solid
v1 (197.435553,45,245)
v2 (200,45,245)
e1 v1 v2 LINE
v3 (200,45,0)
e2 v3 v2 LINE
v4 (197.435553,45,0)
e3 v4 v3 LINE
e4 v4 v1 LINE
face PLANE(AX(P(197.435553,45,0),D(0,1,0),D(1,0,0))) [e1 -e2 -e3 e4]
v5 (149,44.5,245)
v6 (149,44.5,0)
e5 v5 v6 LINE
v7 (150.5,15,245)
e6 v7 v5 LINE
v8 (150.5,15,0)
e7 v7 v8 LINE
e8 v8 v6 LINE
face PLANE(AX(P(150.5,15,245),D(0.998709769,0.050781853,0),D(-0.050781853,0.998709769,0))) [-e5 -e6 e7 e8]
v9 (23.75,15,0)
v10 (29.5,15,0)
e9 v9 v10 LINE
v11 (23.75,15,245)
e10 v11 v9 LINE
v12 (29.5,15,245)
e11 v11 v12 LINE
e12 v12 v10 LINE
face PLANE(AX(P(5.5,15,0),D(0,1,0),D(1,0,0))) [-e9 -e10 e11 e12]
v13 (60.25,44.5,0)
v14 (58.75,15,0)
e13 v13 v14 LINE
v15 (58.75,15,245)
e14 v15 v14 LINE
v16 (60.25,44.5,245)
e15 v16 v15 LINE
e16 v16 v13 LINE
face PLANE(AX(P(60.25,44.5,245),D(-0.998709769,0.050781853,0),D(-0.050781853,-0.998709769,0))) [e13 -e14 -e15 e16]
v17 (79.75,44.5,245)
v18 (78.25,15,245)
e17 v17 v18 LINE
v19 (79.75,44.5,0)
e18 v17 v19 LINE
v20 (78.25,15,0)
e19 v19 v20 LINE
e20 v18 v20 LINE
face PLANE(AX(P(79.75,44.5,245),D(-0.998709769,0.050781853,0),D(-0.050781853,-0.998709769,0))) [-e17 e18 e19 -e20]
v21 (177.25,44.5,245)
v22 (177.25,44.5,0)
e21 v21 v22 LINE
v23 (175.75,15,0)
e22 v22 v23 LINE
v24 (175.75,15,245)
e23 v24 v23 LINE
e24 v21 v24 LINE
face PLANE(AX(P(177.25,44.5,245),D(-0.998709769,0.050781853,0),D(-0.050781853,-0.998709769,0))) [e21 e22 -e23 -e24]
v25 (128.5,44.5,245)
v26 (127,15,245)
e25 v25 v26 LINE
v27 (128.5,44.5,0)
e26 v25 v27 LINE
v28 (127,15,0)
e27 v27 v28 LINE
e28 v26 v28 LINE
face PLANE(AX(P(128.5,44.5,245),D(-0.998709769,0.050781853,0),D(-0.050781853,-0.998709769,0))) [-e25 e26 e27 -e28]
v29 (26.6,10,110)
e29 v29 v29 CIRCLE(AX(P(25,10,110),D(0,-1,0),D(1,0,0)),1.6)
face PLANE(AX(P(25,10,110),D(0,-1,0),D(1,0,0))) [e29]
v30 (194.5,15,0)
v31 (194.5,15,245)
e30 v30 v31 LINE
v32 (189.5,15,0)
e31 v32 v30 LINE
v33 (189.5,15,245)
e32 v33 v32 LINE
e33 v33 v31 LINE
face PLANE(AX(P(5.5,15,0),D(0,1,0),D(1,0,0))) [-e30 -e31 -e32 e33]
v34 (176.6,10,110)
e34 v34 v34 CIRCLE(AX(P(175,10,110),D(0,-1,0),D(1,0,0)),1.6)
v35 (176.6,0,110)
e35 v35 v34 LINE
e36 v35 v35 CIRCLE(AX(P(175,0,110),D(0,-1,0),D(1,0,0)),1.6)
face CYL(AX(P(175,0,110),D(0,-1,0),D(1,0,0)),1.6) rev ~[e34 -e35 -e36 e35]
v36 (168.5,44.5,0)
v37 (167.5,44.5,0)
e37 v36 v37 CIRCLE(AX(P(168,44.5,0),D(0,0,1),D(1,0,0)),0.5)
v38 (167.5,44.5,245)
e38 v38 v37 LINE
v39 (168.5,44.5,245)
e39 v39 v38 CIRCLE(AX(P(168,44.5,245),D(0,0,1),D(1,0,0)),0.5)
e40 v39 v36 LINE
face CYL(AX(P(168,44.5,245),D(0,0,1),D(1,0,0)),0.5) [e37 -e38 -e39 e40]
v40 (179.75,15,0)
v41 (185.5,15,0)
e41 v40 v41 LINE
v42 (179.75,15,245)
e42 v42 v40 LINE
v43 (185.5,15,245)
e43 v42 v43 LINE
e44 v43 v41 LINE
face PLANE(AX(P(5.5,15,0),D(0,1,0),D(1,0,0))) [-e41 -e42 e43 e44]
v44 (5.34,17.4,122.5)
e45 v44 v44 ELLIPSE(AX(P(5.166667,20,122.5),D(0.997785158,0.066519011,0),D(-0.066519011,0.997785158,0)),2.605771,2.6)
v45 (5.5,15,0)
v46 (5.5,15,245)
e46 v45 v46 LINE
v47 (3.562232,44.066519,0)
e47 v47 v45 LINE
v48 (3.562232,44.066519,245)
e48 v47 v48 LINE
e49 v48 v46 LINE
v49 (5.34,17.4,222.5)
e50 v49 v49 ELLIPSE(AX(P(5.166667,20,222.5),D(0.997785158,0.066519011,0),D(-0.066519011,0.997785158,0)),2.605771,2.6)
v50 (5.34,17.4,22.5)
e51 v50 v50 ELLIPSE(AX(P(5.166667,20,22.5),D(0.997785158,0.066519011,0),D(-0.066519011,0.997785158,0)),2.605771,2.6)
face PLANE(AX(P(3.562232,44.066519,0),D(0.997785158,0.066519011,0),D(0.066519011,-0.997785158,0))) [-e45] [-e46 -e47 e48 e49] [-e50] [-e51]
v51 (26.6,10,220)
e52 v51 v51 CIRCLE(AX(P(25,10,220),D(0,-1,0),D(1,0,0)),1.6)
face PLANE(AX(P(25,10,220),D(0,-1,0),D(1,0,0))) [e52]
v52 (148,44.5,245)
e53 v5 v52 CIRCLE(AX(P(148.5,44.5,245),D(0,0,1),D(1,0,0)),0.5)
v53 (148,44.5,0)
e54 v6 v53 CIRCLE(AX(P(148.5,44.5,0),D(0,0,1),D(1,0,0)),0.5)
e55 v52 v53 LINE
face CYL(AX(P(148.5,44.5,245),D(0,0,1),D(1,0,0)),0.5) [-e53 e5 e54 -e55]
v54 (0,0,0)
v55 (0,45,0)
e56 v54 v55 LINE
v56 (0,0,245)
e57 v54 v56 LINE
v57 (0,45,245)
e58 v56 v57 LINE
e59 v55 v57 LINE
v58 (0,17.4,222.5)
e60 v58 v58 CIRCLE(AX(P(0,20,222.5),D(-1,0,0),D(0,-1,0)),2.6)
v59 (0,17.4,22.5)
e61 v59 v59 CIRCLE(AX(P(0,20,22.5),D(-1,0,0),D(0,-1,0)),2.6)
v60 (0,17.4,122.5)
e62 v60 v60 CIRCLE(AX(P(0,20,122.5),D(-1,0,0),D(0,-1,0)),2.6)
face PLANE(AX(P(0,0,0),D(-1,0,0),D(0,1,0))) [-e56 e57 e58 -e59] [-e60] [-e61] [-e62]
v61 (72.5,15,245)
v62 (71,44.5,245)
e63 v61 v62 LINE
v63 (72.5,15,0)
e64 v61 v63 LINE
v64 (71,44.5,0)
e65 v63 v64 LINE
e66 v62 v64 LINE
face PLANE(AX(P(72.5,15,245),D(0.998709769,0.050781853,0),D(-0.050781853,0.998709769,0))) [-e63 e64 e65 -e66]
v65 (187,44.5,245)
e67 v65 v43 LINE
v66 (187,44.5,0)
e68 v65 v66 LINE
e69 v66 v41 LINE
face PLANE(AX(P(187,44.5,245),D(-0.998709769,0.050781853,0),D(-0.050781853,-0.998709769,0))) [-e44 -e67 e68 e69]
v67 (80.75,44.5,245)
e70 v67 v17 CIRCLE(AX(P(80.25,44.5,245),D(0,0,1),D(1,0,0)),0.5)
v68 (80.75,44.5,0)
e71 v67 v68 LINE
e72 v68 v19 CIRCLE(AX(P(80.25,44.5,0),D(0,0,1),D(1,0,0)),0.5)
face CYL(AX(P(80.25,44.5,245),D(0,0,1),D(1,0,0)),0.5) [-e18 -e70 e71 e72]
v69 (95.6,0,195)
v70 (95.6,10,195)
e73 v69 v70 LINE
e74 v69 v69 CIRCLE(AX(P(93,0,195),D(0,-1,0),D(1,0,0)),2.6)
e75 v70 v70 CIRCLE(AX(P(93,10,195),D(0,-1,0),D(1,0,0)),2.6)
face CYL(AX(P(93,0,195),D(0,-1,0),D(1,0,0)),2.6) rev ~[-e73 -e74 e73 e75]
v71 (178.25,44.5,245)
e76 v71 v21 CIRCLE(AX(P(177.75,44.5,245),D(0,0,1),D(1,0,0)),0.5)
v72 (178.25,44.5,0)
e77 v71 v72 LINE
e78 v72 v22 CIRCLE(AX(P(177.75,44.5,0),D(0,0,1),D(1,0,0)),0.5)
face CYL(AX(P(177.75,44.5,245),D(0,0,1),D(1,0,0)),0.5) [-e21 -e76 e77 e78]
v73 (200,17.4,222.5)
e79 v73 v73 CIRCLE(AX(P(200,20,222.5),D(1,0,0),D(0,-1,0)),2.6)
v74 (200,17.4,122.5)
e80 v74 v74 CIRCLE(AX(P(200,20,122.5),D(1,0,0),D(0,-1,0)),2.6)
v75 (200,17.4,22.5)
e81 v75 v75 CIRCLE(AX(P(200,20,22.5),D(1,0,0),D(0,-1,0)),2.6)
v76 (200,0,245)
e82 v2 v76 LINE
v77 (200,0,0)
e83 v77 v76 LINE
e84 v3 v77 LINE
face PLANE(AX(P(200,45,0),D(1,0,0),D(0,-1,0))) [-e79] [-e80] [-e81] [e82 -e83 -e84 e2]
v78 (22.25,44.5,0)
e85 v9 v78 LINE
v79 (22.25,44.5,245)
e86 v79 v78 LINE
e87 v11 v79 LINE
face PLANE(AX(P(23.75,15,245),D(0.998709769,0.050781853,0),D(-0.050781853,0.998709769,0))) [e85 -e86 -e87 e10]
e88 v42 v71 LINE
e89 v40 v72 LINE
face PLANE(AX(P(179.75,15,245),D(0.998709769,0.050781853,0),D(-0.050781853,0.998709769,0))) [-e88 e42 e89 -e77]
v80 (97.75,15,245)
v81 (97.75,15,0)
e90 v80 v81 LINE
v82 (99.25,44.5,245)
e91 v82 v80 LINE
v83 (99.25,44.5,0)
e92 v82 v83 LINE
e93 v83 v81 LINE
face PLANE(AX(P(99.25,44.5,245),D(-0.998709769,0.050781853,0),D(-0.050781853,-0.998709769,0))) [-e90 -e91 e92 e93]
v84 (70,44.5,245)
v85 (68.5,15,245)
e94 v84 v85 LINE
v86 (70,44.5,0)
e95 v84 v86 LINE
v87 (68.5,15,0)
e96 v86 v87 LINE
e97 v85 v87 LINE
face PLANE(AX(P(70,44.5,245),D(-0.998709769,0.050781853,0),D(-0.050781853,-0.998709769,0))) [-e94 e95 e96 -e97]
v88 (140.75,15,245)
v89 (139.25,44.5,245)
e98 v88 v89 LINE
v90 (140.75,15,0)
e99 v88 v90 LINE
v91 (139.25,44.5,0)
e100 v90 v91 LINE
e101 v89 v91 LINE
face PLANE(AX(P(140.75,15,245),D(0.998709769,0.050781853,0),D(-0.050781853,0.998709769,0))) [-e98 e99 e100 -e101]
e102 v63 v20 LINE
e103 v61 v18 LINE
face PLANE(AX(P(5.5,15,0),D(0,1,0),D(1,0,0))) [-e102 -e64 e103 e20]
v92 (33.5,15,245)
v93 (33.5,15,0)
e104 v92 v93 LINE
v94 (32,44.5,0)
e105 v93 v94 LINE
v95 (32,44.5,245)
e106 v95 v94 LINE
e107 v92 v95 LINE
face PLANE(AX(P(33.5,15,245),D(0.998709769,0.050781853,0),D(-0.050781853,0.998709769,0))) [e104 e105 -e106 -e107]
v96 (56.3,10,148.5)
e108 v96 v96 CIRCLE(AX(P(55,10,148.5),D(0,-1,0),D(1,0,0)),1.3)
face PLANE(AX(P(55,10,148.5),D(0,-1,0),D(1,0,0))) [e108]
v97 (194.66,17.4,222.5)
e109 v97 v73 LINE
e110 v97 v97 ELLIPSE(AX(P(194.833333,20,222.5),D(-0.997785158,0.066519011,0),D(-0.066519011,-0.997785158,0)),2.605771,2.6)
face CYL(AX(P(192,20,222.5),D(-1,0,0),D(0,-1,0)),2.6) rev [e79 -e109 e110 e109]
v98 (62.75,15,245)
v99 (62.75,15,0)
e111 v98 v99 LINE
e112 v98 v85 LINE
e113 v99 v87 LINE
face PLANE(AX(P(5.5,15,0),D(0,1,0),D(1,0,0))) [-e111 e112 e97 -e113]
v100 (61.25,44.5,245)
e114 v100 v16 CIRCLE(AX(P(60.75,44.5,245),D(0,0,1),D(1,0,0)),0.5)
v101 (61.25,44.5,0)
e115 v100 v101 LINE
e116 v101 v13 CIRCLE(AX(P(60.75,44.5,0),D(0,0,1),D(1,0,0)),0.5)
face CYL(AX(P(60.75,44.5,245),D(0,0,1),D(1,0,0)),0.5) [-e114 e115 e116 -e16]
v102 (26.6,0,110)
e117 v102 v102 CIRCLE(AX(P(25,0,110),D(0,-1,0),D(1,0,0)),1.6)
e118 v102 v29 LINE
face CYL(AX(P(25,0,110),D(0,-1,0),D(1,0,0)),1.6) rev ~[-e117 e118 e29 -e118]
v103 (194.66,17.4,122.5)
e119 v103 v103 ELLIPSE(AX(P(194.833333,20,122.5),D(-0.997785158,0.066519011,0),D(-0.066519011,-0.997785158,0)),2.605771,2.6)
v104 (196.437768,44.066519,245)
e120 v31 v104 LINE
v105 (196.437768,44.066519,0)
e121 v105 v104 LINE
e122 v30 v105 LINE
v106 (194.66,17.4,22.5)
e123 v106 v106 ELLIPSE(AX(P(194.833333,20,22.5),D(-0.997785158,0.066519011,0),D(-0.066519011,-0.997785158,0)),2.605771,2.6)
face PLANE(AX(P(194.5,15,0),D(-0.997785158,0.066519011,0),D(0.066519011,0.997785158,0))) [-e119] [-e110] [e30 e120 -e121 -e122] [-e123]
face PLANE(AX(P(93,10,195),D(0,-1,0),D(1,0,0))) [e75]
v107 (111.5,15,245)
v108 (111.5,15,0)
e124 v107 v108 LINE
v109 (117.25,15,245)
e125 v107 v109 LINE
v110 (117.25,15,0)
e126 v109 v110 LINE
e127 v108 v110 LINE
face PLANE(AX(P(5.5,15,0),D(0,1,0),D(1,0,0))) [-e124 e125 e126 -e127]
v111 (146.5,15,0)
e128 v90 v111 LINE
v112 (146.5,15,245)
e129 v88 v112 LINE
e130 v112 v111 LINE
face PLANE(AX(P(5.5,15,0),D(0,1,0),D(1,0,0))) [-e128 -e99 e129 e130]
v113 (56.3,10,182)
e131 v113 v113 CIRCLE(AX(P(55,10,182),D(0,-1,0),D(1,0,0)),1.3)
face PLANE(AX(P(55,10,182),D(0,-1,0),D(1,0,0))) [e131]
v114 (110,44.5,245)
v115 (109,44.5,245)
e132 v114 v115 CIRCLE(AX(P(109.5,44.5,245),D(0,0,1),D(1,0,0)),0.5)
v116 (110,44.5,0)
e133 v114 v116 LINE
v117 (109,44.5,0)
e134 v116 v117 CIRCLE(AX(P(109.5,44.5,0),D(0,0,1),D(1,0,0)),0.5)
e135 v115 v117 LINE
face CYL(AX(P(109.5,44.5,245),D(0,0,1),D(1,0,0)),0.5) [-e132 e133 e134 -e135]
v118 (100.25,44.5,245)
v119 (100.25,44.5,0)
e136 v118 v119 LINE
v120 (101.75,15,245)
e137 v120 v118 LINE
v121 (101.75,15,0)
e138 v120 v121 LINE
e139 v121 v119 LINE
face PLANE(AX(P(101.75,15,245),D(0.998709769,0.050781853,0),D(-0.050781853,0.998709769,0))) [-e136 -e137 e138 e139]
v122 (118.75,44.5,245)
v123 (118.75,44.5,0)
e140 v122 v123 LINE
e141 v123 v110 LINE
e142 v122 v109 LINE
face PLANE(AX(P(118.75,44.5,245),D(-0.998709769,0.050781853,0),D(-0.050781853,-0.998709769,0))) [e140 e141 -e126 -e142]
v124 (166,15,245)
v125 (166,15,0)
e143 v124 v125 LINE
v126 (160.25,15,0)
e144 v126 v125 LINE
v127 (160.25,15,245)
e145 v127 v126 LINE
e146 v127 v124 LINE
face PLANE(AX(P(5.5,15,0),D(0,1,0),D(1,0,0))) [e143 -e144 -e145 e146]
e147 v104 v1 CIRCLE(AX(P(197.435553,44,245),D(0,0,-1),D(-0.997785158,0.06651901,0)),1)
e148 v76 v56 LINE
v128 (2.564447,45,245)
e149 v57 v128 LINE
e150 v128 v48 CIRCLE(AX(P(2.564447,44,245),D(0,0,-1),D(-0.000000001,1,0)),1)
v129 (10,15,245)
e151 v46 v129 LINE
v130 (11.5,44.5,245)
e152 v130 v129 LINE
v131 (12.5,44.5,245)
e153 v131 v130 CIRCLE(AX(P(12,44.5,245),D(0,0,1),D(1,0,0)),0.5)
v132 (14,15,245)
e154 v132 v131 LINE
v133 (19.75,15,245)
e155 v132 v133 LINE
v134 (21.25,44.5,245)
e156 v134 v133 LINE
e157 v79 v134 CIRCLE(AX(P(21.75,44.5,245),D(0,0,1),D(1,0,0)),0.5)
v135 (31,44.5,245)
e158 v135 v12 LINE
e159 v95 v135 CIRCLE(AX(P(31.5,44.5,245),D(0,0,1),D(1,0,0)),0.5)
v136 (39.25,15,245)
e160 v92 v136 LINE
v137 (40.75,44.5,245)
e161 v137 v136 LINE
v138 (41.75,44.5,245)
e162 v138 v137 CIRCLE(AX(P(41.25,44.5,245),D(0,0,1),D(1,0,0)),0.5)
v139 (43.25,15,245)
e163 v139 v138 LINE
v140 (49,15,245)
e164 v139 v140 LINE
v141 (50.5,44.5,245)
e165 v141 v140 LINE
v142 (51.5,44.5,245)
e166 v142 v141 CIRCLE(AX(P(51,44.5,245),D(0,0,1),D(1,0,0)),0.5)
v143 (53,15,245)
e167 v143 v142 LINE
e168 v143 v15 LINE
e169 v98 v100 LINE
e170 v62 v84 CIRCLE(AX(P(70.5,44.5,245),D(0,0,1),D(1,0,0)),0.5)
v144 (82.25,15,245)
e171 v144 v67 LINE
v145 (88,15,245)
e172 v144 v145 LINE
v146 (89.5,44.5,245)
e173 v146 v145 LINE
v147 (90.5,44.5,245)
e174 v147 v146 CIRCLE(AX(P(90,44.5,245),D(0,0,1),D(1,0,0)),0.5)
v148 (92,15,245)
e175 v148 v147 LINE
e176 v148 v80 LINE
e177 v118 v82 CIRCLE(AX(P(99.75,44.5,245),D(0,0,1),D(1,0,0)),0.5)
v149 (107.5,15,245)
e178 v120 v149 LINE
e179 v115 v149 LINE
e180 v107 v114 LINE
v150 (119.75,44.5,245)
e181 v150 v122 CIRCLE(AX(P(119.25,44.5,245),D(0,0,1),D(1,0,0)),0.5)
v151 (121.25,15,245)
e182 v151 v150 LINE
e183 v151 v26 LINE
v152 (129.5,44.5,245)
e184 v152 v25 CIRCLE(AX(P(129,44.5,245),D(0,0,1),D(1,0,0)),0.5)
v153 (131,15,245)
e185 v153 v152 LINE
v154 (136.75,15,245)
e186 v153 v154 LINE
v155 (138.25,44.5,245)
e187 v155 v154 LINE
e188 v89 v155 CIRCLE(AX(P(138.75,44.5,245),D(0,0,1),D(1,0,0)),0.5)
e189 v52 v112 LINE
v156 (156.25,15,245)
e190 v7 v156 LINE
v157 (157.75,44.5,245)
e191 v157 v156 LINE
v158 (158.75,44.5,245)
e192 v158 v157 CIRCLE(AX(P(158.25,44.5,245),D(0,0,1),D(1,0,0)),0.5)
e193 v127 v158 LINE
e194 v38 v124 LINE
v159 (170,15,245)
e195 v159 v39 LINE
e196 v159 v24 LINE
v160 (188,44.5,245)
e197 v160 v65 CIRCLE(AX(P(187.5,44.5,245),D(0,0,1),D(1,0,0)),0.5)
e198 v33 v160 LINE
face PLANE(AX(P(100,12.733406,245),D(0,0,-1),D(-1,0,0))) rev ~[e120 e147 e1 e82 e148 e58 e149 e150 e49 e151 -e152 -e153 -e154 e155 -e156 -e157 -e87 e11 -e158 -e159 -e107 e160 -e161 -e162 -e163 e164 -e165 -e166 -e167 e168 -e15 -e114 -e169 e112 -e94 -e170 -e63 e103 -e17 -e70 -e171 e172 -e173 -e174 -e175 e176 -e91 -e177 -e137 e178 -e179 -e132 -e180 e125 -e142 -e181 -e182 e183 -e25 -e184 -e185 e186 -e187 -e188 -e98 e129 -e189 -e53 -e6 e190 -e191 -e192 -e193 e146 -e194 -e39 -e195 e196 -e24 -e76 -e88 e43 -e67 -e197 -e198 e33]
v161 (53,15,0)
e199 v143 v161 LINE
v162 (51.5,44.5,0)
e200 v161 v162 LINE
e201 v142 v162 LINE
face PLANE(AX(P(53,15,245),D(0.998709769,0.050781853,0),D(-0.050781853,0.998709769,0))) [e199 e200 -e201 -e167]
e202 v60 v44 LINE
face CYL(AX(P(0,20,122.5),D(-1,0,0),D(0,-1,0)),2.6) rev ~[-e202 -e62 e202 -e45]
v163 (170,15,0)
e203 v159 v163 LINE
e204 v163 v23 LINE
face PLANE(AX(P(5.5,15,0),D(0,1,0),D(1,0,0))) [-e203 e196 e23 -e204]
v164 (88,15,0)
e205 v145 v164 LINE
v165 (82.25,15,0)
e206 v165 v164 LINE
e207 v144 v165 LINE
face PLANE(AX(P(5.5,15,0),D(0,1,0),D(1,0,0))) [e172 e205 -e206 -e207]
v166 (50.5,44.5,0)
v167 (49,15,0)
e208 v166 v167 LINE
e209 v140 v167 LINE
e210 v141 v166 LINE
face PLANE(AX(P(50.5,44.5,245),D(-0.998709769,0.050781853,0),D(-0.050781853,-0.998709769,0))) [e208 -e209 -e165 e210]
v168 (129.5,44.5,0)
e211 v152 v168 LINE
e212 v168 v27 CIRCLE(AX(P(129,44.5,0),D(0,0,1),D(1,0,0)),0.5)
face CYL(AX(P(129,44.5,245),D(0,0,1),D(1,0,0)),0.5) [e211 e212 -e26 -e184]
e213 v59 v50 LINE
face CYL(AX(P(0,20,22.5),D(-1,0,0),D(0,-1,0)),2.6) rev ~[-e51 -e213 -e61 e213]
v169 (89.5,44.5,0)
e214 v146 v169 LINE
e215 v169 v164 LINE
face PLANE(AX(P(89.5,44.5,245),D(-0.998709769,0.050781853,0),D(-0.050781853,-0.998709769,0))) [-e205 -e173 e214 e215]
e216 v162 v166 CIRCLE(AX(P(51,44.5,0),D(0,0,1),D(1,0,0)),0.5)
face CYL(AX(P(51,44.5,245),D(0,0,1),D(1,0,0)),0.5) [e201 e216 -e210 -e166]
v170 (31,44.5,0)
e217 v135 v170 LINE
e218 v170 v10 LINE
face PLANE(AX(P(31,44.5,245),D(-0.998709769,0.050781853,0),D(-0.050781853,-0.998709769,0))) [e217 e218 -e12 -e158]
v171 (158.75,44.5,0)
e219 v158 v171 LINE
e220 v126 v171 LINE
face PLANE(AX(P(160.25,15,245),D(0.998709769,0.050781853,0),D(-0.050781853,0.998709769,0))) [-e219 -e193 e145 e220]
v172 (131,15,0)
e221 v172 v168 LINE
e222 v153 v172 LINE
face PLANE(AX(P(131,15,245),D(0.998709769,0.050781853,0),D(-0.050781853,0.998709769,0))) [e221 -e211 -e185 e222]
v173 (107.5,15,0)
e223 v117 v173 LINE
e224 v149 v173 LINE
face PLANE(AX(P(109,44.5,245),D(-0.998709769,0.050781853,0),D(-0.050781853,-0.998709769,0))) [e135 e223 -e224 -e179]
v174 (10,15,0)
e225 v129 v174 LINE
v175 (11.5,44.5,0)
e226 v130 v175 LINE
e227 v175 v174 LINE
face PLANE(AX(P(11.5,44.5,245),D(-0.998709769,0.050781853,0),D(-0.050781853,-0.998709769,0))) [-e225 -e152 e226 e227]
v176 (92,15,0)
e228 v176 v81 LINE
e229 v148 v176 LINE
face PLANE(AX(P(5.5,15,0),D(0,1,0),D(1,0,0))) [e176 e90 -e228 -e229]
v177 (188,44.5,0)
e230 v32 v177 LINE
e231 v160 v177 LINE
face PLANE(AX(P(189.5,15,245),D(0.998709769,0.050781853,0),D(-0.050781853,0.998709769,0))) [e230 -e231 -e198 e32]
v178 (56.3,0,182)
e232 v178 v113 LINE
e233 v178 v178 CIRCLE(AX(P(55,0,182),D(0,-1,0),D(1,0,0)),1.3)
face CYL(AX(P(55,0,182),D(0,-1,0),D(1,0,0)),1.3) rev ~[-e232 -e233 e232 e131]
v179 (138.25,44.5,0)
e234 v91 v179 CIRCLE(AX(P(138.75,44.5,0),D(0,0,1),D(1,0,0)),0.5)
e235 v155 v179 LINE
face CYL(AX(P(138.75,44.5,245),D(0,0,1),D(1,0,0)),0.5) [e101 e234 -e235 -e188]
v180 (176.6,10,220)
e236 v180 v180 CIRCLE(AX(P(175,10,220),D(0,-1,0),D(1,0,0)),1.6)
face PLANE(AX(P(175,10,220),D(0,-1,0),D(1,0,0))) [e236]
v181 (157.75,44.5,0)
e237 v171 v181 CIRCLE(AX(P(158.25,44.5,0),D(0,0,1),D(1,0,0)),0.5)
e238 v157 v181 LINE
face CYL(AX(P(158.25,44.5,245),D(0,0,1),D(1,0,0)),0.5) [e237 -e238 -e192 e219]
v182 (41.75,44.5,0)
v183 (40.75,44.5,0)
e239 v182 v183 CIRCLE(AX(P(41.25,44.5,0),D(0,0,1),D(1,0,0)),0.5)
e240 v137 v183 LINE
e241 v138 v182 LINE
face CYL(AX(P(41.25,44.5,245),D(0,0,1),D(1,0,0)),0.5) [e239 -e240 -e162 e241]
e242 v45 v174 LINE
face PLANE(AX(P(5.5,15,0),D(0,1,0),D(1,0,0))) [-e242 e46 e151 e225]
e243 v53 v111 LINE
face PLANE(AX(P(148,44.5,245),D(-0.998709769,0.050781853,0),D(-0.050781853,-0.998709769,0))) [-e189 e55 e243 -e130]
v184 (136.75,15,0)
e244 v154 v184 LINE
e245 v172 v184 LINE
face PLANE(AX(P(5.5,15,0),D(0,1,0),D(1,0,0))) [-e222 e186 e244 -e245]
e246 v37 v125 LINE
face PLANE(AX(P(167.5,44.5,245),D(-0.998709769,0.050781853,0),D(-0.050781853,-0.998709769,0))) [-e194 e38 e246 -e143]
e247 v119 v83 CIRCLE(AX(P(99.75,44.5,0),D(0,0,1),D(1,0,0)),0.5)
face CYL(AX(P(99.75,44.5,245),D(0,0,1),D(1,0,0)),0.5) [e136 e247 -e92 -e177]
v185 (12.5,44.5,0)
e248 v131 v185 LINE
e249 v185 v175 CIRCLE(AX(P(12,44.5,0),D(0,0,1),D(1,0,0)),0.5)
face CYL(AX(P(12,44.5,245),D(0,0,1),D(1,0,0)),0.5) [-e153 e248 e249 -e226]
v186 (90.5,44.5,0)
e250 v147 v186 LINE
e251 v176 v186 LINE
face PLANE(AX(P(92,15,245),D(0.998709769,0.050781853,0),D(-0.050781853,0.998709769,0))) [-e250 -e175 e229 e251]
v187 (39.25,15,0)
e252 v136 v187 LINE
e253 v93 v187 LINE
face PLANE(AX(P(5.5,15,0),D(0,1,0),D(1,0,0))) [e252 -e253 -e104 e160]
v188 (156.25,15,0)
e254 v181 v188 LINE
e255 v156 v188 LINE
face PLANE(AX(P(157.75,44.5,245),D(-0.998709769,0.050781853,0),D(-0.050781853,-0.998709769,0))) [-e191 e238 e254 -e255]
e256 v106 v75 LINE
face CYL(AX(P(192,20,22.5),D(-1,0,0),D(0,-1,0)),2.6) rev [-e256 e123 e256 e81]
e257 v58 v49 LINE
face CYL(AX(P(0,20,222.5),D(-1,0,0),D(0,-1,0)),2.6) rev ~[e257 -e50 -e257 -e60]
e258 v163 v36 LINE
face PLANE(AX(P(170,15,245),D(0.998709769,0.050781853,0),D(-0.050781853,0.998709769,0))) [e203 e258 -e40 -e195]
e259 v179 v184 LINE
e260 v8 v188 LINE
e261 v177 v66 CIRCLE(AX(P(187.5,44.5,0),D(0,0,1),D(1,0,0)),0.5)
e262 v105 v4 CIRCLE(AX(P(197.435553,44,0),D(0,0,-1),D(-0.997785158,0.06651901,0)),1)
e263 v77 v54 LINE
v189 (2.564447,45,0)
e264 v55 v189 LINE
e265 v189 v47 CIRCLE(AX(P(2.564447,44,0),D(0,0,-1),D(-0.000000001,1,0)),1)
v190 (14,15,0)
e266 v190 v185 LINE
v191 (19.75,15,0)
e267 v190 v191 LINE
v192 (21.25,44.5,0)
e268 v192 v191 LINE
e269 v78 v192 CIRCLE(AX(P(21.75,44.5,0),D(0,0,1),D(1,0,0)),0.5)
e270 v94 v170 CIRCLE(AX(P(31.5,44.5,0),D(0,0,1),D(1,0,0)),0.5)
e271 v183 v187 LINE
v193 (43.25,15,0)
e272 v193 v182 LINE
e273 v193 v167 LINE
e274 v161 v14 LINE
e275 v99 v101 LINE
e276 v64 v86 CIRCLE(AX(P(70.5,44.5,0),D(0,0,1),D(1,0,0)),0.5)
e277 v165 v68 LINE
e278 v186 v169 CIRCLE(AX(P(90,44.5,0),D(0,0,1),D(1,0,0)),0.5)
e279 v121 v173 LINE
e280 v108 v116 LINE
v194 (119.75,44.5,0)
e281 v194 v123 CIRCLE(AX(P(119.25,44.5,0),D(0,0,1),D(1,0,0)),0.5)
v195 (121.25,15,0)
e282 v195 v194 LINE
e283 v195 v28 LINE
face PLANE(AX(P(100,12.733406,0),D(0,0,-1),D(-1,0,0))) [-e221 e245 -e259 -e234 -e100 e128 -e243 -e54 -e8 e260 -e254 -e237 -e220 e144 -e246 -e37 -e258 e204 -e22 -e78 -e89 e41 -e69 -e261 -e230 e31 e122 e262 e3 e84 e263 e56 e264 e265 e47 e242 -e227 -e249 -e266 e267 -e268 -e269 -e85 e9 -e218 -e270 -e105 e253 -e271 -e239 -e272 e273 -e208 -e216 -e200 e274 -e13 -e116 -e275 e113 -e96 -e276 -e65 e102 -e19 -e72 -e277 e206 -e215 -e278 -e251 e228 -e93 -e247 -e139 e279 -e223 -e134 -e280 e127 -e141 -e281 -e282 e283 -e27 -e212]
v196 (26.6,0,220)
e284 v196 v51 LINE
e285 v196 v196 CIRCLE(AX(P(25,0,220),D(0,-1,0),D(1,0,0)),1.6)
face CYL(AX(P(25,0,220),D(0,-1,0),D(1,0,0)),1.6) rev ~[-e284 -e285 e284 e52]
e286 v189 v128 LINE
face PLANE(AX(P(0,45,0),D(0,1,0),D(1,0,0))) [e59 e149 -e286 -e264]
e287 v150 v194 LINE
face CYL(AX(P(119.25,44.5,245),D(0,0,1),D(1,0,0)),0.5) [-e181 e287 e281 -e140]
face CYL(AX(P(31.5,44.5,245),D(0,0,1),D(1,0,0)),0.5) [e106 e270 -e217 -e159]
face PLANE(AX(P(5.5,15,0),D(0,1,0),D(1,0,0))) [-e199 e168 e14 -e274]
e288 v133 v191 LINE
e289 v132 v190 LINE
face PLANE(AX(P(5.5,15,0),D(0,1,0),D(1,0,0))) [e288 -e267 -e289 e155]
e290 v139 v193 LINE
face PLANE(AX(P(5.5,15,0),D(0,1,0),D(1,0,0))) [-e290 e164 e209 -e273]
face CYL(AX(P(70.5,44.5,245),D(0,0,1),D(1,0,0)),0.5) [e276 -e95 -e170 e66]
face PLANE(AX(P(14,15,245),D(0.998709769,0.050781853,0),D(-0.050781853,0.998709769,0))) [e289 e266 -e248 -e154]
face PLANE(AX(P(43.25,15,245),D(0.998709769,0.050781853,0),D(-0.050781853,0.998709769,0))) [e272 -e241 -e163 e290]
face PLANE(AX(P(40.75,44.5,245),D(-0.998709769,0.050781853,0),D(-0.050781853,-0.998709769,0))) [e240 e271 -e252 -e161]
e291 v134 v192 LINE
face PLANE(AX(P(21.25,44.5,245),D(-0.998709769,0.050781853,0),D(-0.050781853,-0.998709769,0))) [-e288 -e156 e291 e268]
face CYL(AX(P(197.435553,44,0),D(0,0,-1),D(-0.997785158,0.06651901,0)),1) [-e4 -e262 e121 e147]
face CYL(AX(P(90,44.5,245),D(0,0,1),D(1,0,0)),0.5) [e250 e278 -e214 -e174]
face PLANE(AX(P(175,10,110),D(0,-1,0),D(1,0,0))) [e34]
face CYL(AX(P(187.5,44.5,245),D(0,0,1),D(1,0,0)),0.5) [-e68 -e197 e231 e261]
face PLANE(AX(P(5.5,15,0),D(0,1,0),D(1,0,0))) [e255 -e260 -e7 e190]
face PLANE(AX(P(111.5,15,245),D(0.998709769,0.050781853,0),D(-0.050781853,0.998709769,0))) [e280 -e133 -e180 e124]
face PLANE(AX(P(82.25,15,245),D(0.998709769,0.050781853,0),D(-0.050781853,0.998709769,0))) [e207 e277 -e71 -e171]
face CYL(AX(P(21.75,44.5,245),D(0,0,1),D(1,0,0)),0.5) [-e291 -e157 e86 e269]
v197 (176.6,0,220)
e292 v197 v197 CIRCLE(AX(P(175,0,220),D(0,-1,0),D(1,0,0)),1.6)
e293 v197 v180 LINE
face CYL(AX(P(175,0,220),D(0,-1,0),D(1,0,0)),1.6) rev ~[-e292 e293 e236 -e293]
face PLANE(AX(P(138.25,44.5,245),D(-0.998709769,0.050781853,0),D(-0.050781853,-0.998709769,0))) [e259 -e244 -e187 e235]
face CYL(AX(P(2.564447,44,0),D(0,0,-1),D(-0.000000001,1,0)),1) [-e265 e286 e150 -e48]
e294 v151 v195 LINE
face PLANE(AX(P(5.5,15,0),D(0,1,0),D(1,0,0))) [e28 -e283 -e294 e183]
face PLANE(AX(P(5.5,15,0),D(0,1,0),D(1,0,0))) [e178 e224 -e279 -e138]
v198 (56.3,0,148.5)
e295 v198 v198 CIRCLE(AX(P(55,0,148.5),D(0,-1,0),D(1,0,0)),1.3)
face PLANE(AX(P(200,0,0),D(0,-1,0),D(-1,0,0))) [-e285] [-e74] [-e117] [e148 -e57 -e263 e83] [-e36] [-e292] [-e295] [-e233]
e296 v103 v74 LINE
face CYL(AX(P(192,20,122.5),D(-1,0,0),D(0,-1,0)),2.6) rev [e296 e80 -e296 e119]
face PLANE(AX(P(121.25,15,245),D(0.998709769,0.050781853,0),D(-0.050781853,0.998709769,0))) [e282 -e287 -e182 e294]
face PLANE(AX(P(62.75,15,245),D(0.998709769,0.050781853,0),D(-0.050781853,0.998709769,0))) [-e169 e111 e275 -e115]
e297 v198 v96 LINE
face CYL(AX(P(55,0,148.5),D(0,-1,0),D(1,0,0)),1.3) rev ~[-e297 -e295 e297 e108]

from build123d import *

# Parameters (mm, degrees)
EXTRUDE_1_DEPTH       = 245
EXTRUDE_3_DEPTH       = 245
PATTERN_CURVE_1_COUNT = 19
PATTERN_CURVE_1_PITCH = 9.75
SKETCH_7_R            = 2.6
CUT_EXTRUDE_4_DEPTH   = 6
CUT_EXTRUDE_START     = -8
SKETCH_13_R           = 2.6
CUT_EXTRUDE_9_DEPTH   = 8
SKETCH_15_R           = 1.6
SKETCH_15_R_2         = 1.3
SKETCH_15_R_3         = 2.6
CUT_EXTRUDE_10_DEPTH  = 10


with BuildPart() as part:
    # Эскиз1 → Вытянуть1 (new body)
    with BuildSketch(Plane.XY):
        with BuildLine():
            Line((0, 45), (2.564446908, 45))
            ThreePointArc((2.564446908, 45), (3.247630994, 44.730246195), (3.562232066, 44.066519011))
            Line((3.562232066, 44.066519011), (5.5, 15))
            Line((5.5, 15), (194.5, 15))
            Line((194.5, 15), (196.437767934, 44.066519011))
            ThreePointArc((196.437767934, 44.066519011), (196.752369006, 44.730246195), (197.435553092, 45))
            Line((197.435553092, 45), (200, 45))
            Line((200, 45), (200, 0))
            Line((200, 0), (0, 0))
            Line((0, 0), (0, 45))
        make_face()
    extrude(amount=EXTRUDE_1_DEPTH)

    # Эскиз2 → Вытянуть3 (add)
    with BuildSketch(Plane.XY.offset(245)):
        with BuildLine():
            Line((11.5, 44.5), (10, 15))
            Line((10, 15), (14, 15))
            Line((14, 15), (12.5, 44.5))
            ThreePointArc((12.5, 44.5), (12, 45), (11.5, 44.5))
        make_face()
    extrude_3 = extrude(amount=-EXTRUDE_3_DEPTH)

    # Кривая1: Вытянуть3 ×19
    with Locations(*[(i * PATTERN_CURVE_1_PITCH, 0, 0) for i in range(1, PATTERN_CURVE_1_COUNT)]):
        add(extrude_3)

    # Эскиз7 → Вырез-Вытянуть4 (cut)
    with BuildSketch(Plane.ZY):
        with Locations(Location((22.5, 20, 0), (0, 0, 270))):
            Circle(SKETCH_7_R)
        with Locations(Location((222.5, 20, 0), (0, 0, 270))):
            Circle(SKETCH_7_R)
        with Locations(Location((122.5, 20, 0), (0, 0, 270))):
            Circle(SKETCH_7_R)
    extrude(amount=-CUT_EXTRUDE_4_DEPTH, mode=Mode.SUBTRACT)

    # Эскиз13 → Вырез-Вытянуть9 (cut)
    with BuildSketch(Plane(origin=(200, 0, 0), x_dir=(0, 0, -1), z_dir=(1, 0, 0)).offset(CUT_EXTRUDE_START)):
        with Locations(Location((-222.5, 20, 0), (0, 0, 270))):
            Circle(SKETCH_13_R)
        with Locations(Location((-122.5, 20, 0), (0, 0, 270))):
            Circle(SKETCH_13_R)
        with Locations(Location((-22.5, 20, 0), (0, 0, 270))):
            Circle(SKETCH_13_R)
    extrude(amount=CUT_EXTRUDE_9_DEPTH, mode=Mode.SUBTRACT)

    # Эскиз15 → Вырез-Вытянуть10 (cut)
    with BuildSketch(Plane.XZ):
        with Locations((25, 220)):
            Circle(SKETCH_15_R)
        with Locations((175, 220)):
            Circle(SKETCH_15_R)
        with Locations((175, 110)):
            Circle(SKETCH_15_R)
        with Locations((25, 110)):
            Circle(SKETCH_15_R)
        with Locations((55, 182)):
            Circle(SKETCH_15_R_2)
        with Locations((55, 148.5)):
            Circle(SKETCH_15_R_2)
        with Locations((93, 195)):
            Circle(SKETCH_15_R_3)
    extrude(amount=-CUT_EXTRUDE_10_DEPTH, mode=Mode.SUBTRACT)


solid = part.part
